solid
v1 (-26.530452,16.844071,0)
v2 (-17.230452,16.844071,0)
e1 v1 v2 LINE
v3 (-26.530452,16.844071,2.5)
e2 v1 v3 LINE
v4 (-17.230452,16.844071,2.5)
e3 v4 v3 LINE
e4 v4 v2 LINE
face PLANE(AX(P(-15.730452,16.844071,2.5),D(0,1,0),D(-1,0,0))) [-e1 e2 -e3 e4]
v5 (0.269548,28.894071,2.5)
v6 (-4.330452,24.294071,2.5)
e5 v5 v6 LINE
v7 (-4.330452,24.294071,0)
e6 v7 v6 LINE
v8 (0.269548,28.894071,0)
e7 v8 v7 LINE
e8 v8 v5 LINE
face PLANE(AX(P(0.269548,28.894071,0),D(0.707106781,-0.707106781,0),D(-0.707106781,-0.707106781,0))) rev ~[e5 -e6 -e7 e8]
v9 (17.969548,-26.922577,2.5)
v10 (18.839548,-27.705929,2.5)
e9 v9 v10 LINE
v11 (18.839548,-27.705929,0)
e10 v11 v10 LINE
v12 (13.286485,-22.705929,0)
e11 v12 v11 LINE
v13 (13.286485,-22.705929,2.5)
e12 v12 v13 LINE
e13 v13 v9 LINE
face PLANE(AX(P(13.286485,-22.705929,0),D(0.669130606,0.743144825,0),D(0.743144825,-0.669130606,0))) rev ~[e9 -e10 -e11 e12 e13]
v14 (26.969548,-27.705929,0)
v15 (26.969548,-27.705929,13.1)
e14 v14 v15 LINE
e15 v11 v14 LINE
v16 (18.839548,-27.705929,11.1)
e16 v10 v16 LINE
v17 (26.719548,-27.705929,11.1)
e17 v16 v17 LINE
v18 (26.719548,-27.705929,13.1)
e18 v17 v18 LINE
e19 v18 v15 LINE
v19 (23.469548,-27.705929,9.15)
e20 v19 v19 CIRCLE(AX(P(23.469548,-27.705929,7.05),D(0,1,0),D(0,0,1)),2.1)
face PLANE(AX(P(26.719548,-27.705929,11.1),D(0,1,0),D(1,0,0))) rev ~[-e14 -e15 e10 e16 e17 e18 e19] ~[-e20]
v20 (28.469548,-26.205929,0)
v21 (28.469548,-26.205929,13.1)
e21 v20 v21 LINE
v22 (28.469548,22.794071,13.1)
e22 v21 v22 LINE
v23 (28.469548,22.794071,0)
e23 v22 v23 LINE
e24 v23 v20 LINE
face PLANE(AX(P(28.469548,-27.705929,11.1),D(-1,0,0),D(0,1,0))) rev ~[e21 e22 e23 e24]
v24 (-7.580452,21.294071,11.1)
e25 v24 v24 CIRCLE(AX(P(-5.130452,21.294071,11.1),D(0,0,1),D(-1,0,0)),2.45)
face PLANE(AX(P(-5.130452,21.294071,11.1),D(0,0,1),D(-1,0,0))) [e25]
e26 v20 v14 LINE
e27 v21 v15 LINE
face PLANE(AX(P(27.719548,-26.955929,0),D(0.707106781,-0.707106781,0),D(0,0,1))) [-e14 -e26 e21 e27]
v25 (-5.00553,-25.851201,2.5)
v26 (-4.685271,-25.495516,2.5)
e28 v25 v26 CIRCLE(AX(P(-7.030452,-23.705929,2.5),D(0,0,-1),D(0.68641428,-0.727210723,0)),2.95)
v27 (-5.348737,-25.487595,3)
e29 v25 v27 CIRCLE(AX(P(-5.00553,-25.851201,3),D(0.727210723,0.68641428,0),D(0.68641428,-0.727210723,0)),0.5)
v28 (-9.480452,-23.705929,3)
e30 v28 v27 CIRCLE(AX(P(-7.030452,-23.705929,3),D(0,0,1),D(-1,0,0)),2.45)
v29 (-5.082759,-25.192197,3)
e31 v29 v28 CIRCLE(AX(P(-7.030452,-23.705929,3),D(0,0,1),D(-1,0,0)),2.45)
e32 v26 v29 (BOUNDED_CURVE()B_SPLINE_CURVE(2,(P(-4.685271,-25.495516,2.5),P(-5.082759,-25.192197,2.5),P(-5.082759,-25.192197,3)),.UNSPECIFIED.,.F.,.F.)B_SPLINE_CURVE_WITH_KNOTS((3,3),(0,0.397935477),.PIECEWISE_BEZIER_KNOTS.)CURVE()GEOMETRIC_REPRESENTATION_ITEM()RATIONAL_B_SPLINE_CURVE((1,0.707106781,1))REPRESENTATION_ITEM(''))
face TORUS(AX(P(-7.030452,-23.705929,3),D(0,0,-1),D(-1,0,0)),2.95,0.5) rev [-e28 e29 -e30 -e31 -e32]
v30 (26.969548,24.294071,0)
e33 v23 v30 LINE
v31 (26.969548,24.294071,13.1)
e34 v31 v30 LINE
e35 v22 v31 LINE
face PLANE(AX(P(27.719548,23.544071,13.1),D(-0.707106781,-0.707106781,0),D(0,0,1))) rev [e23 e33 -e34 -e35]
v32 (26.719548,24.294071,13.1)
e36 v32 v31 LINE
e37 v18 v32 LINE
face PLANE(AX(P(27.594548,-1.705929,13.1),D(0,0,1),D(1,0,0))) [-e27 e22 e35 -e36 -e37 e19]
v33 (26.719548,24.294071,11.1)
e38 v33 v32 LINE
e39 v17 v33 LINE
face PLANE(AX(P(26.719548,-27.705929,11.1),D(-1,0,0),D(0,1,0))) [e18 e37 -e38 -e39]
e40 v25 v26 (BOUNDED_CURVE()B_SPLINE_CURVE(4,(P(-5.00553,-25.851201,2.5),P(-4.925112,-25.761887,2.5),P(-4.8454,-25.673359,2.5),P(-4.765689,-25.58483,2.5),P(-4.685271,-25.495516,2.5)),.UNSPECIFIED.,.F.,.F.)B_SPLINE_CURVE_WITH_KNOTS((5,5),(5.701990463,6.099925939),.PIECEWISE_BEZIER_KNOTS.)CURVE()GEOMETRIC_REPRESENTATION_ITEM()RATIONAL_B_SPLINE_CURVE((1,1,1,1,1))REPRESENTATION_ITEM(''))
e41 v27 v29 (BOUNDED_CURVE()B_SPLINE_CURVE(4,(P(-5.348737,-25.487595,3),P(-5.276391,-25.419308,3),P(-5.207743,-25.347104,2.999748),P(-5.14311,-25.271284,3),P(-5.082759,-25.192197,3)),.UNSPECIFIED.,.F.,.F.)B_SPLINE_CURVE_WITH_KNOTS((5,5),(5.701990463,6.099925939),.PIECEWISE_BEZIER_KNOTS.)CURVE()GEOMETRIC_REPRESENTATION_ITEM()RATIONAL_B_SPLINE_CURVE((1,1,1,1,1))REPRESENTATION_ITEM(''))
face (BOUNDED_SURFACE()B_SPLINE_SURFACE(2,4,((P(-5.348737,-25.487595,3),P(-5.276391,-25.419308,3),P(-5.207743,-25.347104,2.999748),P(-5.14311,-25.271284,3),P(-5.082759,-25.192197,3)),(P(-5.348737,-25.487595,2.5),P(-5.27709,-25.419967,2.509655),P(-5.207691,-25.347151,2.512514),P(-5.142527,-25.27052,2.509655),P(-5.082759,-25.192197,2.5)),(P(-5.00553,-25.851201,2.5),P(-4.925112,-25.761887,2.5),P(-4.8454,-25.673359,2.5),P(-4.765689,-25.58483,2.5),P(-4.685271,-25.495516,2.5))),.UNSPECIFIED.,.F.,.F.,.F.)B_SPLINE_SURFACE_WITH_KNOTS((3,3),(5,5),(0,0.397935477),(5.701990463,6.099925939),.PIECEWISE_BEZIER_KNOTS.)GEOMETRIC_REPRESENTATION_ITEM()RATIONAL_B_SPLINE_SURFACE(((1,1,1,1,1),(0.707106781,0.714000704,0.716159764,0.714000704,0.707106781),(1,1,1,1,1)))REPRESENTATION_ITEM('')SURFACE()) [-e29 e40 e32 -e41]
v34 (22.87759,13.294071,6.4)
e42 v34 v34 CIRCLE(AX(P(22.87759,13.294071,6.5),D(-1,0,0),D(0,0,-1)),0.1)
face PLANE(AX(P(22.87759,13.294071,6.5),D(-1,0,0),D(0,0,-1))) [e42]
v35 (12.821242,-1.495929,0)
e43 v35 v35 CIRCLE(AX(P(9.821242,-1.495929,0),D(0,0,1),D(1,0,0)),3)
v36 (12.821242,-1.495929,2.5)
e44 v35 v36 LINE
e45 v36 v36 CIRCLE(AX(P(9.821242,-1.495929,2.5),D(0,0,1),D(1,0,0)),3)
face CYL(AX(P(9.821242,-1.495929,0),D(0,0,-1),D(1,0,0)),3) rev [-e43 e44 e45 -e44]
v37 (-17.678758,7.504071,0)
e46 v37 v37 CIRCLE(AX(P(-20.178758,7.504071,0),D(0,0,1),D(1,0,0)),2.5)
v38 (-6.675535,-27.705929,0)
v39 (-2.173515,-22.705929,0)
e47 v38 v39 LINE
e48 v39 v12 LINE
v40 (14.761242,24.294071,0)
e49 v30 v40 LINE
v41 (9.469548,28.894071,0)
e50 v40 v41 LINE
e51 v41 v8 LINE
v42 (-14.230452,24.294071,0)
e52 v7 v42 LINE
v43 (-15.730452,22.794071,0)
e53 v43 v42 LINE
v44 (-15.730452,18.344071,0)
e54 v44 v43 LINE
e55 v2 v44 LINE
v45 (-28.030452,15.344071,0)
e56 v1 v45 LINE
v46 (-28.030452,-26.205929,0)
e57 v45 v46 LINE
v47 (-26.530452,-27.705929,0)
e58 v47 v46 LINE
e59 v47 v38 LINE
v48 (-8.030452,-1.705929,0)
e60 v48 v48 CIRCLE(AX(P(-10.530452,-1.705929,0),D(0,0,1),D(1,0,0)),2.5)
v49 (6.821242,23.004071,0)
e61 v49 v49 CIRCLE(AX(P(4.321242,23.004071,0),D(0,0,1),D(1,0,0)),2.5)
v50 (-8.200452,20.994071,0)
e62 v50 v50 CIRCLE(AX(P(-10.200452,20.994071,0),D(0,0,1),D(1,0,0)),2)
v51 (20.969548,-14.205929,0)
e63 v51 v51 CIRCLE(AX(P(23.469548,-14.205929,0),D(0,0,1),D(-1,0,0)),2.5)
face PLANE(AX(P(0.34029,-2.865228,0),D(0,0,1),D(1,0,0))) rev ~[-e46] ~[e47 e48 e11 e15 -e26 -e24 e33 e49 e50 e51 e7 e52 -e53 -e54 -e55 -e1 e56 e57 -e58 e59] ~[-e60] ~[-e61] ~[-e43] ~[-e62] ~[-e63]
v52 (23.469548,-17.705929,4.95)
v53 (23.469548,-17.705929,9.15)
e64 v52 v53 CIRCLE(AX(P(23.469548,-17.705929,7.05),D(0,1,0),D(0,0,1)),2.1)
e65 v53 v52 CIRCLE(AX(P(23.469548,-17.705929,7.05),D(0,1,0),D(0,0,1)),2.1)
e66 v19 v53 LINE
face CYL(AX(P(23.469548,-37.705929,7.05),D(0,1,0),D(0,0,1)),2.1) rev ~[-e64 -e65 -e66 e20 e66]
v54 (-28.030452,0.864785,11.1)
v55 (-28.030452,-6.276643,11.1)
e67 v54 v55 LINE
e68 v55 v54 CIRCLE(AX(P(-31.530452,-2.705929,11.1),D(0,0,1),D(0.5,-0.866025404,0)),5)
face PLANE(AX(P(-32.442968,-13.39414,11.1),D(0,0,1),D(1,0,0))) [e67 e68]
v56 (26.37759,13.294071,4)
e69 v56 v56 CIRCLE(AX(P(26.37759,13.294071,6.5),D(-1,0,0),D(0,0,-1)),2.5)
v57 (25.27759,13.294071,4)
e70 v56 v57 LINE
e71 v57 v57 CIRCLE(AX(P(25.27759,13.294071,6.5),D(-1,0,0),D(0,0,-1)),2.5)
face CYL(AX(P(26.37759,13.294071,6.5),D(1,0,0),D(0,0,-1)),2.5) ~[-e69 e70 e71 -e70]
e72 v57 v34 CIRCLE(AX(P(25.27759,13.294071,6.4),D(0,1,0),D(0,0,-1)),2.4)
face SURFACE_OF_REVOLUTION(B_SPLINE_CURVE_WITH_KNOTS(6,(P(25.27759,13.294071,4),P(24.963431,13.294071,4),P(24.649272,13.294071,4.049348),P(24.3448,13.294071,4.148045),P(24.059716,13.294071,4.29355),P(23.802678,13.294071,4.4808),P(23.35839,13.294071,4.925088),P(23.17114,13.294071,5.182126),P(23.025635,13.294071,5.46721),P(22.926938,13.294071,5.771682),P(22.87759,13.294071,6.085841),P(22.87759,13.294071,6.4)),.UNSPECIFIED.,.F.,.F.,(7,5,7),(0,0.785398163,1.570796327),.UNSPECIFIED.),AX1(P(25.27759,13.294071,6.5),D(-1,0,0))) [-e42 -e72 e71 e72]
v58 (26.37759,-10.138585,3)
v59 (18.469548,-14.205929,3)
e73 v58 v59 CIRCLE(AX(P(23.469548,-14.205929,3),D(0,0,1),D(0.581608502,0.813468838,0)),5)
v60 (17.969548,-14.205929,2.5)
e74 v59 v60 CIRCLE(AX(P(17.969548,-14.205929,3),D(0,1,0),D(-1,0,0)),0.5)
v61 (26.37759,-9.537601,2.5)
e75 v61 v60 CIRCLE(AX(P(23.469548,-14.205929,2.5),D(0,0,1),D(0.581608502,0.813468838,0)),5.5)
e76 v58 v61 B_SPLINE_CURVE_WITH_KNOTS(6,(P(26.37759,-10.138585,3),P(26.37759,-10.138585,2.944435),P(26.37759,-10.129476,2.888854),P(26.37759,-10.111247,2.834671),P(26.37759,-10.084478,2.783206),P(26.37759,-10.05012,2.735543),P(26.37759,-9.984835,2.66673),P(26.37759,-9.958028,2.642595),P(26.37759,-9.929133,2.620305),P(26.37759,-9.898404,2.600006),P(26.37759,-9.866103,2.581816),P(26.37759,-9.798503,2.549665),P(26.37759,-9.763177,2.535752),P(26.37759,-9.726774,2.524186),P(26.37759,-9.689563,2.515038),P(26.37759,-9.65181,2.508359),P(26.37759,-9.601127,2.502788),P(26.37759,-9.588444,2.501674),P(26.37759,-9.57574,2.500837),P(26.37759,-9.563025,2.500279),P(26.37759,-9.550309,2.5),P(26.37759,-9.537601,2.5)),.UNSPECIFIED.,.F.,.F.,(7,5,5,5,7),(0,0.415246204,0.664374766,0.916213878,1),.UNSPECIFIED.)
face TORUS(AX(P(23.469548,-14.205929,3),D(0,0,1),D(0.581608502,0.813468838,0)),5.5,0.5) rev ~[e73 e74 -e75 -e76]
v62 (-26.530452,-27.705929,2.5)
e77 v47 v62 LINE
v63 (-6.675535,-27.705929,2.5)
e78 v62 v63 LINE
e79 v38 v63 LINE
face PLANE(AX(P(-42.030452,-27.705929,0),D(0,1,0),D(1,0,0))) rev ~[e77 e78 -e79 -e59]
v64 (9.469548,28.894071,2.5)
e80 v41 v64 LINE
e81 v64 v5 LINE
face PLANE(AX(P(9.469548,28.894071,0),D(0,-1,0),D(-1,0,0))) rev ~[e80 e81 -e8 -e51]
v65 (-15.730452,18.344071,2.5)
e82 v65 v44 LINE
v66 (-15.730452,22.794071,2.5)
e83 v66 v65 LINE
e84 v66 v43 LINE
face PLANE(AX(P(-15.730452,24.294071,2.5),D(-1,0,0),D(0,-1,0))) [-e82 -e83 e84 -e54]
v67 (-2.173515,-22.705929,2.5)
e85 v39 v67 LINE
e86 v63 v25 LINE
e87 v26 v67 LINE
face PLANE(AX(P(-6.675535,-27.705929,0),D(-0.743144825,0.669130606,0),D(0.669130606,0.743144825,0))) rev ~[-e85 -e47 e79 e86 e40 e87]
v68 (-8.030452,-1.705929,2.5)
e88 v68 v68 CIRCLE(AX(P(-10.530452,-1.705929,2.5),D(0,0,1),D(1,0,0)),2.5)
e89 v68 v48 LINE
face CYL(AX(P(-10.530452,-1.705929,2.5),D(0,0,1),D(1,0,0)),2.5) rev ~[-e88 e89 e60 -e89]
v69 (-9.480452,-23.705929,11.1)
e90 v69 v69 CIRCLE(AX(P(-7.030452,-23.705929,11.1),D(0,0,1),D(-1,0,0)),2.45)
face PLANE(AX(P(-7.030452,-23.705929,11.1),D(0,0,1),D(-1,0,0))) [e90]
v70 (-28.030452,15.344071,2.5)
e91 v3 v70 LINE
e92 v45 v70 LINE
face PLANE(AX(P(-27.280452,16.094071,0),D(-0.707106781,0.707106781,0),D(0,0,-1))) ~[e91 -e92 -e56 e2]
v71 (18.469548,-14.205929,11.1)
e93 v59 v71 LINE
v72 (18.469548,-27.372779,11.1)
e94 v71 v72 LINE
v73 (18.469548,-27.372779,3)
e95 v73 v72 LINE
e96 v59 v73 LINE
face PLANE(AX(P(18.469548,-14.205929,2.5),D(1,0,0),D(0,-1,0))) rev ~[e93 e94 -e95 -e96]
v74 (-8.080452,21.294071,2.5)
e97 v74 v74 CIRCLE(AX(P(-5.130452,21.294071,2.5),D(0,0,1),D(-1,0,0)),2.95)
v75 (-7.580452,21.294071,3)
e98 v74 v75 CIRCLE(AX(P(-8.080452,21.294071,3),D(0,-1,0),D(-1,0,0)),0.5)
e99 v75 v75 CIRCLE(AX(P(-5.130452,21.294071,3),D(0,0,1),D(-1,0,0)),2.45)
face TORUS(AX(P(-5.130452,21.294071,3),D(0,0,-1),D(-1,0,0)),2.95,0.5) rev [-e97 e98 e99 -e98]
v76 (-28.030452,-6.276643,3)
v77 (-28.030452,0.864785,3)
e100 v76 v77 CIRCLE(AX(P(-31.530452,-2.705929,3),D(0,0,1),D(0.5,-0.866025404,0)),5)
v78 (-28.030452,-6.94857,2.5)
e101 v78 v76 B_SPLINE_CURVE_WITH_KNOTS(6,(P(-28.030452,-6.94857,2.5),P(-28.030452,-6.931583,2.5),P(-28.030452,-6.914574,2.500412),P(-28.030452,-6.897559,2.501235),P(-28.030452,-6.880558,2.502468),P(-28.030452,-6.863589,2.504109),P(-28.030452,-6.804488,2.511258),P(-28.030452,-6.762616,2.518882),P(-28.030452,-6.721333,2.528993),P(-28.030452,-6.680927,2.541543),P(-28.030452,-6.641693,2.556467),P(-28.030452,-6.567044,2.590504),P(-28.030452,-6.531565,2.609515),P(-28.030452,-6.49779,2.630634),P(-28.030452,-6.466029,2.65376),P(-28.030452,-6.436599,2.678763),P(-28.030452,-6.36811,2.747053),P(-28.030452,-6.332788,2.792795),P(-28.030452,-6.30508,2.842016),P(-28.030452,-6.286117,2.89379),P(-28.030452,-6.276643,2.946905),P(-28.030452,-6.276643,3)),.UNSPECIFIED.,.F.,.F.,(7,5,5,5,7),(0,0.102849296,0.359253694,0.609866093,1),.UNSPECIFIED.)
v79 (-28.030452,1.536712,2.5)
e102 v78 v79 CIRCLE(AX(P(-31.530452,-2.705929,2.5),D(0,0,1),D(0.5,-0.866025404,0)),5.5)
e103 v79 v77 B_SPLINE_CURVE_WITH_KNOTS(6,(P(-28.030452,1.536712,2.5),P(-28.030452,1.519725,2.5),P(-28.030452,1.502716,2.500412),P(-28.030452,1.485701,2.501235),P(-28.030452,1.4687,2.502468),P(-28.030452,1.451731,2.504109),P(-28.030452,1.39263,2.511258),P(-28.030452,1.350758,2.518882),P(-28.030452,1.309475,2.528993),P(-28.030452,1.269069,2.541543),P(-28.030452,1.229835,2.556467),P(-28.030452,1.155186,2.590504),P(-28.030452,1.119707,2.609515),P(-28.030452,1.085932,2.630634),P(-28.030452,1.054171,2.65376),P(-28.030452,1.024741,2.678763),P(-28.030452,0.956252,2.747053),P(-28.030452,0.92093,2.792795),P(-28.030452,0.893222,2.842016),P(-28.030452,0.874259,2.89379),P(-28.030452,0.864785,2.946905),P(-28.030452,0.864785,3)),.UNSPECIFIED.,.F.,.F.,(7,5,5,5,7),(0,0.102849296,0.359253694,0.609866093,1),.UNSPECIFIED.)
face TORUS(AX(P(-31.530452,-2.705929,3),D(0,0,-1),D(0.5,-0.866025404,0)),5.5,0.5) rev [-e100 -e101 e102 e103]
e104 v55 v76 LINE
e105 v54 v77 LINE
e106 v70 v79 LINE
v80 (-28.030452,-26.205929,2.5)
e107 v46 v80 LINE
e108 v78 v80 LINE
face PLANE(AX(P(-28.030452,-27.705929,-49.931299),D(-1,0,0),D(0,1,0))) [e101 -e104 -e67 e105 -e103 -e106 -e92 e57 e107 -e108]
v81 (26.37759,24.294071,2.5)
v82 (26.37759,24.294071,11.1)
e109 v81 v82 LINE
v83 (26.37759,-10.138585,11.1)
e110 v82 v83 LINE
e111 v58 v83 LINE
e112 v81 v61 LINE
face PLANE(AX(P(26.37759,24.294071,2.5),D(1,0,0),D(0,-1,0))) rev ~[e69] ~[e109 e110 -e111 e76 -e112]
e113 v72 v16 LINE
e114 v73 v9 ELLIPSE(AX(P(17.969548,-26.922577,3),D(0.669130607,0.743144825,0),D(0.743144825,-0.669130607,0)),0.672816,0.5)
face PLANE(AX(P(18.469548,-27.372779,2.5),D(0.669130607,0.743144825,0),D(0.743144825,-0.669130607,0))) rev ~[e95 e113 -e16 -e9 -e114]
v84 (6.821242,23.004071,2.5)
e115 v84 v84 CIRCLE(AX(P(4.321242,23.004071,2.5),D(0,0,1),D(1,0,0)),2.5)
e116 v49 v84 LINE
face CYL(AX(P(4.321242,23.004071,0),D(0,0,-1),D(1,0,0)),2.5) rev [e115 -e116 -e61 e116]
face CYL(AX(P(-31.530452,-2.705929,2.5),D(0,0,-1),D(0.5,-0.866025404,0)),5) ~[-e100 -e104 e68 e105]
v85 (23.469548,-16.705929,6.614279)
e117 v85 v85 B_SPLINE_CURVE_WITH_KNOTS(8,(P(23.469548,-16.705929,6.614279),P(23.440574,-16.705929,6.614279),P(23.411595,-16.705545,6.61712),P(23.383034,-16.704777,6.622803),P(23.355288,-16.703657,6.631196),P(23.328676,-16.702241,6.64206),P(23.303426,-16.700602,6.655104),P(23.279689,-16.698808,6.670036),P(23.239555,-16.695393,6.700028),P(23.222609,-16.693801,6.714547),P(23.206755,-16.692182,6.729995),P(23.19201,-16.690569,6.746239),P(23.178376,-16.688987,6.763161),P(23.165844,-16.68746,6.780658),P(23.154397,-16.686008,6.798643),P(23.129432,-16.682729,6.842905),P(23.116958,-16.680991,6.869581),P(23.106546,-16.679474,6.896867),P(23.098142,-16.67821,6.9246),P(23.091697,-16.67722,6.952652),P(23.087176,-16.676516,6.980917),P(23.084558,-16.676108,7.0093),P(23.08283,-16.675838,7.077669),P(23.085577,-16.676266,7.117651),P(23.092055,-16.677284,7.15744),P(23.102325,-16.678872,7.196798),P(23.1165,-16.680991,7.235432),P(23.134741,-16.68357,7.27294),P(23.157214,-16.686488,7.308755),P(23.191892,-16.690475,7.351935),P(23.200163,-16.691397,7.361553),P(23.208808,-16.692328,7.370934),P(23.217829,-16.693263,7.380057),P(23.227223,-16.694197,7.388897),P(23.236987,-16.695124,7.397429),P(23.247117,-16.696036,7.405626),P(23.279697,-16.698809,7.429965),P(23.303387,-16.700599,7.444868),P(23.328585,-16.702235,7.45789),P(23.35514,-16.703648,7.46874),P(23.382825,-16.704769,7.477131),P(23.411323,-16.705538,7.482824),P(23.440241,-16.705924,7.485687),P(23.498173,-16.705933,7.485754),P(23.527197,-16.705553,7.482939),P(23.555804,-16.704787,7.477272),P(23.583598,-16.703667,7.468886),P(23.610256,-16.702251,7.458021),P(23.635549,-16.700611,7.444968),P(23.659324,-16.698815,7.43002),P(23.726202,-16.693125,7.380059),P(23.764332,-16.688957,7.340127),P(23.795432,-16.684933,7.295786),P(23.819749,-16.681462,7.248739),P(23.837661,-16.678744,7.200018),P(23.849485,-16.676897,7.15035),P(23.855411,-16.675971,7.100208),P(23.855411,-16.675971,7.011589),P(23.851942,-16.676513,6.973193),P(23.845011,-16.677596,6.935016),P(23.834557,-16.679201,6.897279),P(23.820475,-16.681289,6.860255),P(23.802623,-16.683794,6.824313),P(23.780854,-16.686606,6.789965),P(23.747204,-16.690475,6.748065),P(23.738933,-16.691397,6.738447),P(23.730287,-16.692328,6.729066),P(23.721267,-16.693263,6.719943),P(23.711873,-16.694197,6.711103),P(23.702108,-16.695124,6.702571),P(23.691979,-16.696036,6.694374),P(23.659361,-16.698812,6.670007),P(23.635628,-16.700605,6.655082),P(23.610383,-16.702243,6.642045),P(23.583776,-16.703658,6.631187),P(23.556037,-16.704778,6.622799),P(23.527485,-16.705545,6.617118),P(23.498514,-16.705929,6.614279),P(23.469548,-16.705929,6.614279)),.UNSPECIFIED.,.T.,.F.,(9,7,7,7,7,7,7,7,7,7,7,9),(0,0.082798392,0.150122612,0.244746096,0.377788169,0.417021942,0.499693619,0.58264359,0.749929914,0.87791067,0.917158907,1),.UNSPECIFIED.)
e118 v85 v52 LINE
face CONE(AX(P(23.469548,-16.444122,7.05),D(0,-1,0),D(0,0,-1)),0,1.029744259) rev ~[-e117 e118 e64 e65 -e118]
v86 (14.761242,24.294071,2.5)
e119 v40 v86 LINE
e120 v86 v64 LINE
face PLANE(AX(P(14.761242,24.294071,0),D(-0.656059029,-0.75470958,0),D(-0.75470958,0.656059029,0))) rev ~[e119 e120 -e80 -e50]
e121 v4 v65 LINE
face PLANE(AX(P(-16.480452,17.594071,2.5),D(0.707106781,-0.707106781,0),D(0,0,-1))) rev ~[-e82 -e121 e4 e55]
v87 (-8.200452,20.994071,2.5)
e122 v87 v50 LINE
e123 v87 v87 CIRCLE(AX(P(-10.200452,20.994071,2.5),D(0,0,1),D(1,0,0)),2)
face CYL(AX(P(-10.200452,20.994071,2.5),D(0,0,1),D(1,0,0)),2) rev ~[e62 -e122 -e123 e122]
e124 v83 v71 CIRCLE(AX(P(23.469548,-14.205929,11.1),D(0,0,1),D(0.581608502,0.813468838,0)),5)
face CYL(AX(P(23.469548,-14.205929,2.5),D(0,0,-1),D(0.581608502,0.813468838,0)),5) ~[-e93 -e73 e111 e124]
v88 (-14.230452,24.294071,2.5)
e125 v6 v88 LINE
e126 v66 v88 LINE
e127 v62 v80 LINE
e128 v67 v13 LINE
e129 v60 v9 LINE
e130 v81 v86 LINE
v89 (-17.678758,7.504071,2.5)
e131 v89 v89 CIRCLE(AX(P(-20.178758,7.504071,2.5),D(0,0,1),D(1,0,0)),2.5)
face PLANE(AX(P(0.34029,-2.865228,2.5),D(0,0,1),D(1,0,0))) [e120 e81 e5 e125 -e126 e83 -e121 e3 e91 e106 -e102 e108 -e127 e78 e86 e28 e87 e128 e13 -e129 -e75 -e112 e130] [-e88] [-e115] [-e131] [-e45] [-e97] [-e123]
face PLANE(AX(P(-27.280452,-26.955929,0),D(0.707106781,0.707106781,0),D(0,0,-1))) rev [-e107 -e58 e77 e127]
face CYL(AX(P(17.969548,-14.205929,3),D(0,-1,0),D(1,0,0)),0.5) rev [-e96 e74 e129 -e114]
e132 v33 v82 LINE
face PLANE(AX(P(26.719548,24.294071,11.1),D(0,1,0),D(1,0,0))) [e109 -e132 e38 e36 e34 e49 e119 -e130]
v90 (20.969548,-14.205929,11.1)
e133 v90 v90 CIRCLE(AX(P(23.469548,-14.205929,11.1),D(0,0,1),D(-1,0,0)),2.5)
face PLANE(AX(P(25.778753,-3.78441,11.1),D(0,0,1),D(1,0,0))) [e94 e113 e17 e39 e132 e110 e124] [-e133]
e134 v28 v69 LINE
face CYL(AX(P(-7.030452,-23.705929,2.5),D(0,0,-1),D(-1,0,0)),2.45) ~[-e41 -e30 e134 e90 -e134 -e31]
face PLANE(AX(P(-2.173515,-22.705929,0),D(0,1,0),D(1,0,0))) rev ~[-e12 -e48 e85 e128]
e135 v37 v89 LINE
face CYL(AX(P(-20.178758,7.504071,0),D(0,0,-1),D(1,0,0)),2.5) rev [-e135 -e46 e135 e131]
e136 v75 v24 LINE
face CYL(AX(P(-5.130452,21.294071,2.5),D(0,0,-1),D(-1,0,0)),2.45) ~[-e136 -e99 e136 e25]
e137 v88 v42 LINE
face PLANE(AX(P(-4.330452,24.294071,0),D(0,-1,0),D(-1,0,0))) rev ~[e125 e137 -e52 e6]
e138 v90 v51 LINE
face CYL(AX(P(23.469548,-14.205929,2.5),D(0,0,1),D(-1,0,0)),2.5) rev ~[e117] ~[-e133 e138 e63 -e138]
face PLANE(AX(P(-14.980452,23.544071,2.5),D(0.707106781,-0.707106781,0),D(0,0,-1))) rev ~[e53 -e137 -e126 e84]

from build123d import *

# Parameters (mm, degrees)
SKETCH_1_R                      = 2.5
SKETCH_1_R_2                    = 3
EXTRUDE_1_DEPTH                 = 2.5
SKETCH_2_R                      = 2.45
SKETCH_2_R_2                    = 2.5
EXTRUDE_3_DEPTH                 = 8.6
CUT_EXTRUDE_1_REACH             = 53.724
SKETCH_2_2_R                    = 2.5
FILLET_1_R                      = 0.5
EXTRUDE_4_DEPTH                 = 8.6
FILLET_4_R                      = 1
CHAMFER_1_SIZE                  = 1
CUT_EXTRUDE_3_REACH             = 53.724
CUT_EXTRUDE_3_DIRECTION_2_DEPTH = 52.724136067
CHAMFER_2_SIZE                  = 1.5
CUT_EXTRUDE_5_REACH             = 53.724
CHAMFER_3_SIZE                  = 2
HOLE_WIZARD_M5_2_D              = 4.2
HOLE_WIZARD_M5_2_DEPTH          = 10
HOLE_WIZARD_M5_2_TIP            = 1.2618073
CUT_EXTRUDE_6_REACH             = 53.431
SKETCH_14_R                     = 2.5
CUT_EXTRUDE_7_DEPTH             = 52.431299391
CUT_EXTRUDE_7_DEPTH_BACK        = 52.431299391
SKETCH_15_W                     = 9
SKETCH_15_H                     = 44.55
SKETCH_15_W_2                   = 13.2
SKETCH_15_H_2                   = 52
SKETCH_17_R                     = 2.5
EXTRUDE_5_DEPTH                 = 3.5
FILLET_5_R                      = 2.4
SKETCH_18_W                     = 1.75
SKETCH_18_H                     = 52
EXTRUDE_6_DEPTH                 = 2
CHAMFER_4_SIZE                  = 1.5
SKETCH_19_R                     = 2
CUT_EXTRUDE_8_DEPTH             = 10


with BuildPart() as part:
    # 스케치1 → 보스-돌출1 (new body)
    with BuildSketch(Plane.XY):
        Polygon((-6.675534975, -27.705928987), (-2.173514753, -22.705928987), (13.286485247, -22.705928987), (18.839547821, -27.705928987), (41.669547821, -27.705928987), (41.669547821, 12.674071013), (30.011242494, 24.294071013), (14.761242494, 24.294071013), (9.469547821, 28.894071013), (0.269547821, 28.894071013), (-4.330452179, 24.294071013), (-27.130452179, 24.294071013), (-42.030452179, 9.394071013), (-42.030452179, -27.705928987), align=None)
        with Locations((-20.178757506, 7.504071013)):
            Circle(SKETCH_1_R, mode=Mode.SUBTRACT)
        with Locations((4.321242494, 23.004071013)):
            Circle(SKETCH_1_R, mode=Mode.SUBTRACT)
        with Locations((9.821242494, -1.495928987)):
            Circle(SKETCH_1_R_2, mode=Mode.SUBTRACT)
    extrude(amount=EXTRUDE_1_DEPTH)

    # 스케치2 → 보스-돌출3 (add)
    # profile 1 of 4: a face of its own
    with BuildSketch(Plane.XY.offset(2.5)):
        with Locations(Location((-5.130452179, 21.294071013, 0), (0, 0, 180))):
            Circle(SKETCH_2_R)
    # profile 2 of 4: a face of its own
    with BuildSketch(Plane.XY.offset(2.5)):
        with Locations(Location((-7.030452179, -23.705928987, 0), (0, 0, 180))):
            Circle(SKETCH_2_R)
    # profile 3 of 4: a face of its own
    with BuildSketch(Plane.XY.offset(2.5)):
        with BuildLine():
            Line((18.469547821, -14.205928987), (18.469547821, -27.37277949))
            Line((18.469547821, -27.37277949), (18.839547821, -27.705928987))
            Line((18.839547821, -27.705928987), (28.469547821, -27.705928987))
            Line((28.469547821, -27.705928987), (28.469547821, -14.205928987))
            Line((28.469547821, -14.205928987), (28.469547821, 24.294071013))
            Line((28.469547821, 24.294071013), (26.377590331, 24.294071013))
            Line((26.377590331, 24.294071013), (26.377590331, -10.138584797))
            ThreePointArc((26.377590331, -10.138584797), (21.182651731, -9.759570221), (18.469547821, -14.205928987))
        make_face()
        with Locations(Location((23.469547821, -14.205928987, 0), (0, 0, 180))):
            Circle(SKETCH_2_R_2, mode=Mode.SUBTRACT)
    # profile 4 of 4: a face of its own
    with BuildSketch(Plane.XY.offset(2.5)):
        with BuildLine():
            Line((-36.530452179, -2.705928987), (-36.530452179, -27.705928987))
            Line((-36.530452179, -27.705928987), (-29.030452179, -27.705928987))
            Line((-29.030452179, -27.705928987), (-29.030452179, -7.036056006))
            ThreePointArc((-29.030452179, -7.036056006), (-29.030452179, 1.624198032), (-36.530452179, -2.705928987))
        make_face()
        with Locations(Location((-31.530452179, -2.705928987, 0), (0, 0, 180))):
            Circle(SKETCH_2_R_2, mode=Mode.SUBTRACT)
    extrude(amount=EXTRUDE_3_DEPTH)

    # 스케치2<2> → 컷-돌출1 (cut, up to next)
    with BuildSketch(Plane.XY.offset(2.5), mode=Mode.PRIVATE) as cut_extrude_1_sk1:
        with Locations(Location((-31.530452179, -2.705928987, 0), (0, 0, 180))):
            Circle(SKETCH_2_2_R)
    cut_extrude_1_tool1 = extrude(cut_extrude_1_sk1.sketch, amount=-CUT_EXTRUDE_1_REACH, mode=Mode.PRIVATE) & part.part
    # 스케치2<2> → 컷-돌출1 (cut, up to next)
    with BuildSketch(Plane.XY.offset(2.5), mode=Mode.PRIVATE) as cut_extrude_1_sk2:
        with Locations(Location((23.469547821, -14.205928987, 0), (0, 0, 180))):
            Circle(SKETCH_2_2_R)
    cut_extrude_1_tool2 = extrude(cut_extrude_1_sk2.sketch, amount=-CUT_EXTRUDE_1_REACH, mode=Mode.PRIVATE) & part.part
    add(cut_extrude_1_tool1.solids().sort_by_distance((-31.530452, -2.705929, 2.5))[0], mode=Mode.SUBTRACT)
    add(cut_extrude_1_tool2.solids().sort_by_distance((23.469548, -14.205929, 2.5))[0], mode=Mode.SUBTRACT)

    # 필렛1
    fillet_1_edges = [part.edges().sort_by_distance(p)[0] for p in [
        (21.182651731, -9.759570221, 2.5),
        (-2.680452179, 21.294071013, 2.5),
        (-4.580452179, -23.705928987, 2.5),
        (18.469547821, -20.789354238, 2.5),
        (-36.530452179, -15.205928987, 2.5),
        (-29.030452179, -17.370992496, 2.5),
        (-29.030452179, 1.624198032, 2.5),
    ]]
    fillet(fillet_1_edges, radius=FILLET_1_R)

    # 스케치3 → 보스-돌출4 (add)
    with BuildSketch(Plane.XY.offset(2.5)):
        with BuildLine():
            Line((27.631077151, 8.755600344), (33.70801849, 8.755600344))
            ThreePointArc((33.70801849, 8.755600344), (34.415125271, 9.048493563), (34.70801849, 9.755600344))
            Line((34.70801849, 9.755600344), (34.70801849, 15.832541683))
            ThreePointArc((34.70801849, 15.832541683), (34.415125271, 16.539648464), (33.70801849, 16.832541683))
            Line((33.70801849, 16.832541683), (30.669547821, 16.832541683))
            ThreePointArc((30.669547821, 16.832541683), (27.813917825, 15.649701009), (26.631077151, 12.794071013))
            Line((26.631077151, 12.794071013), (26.631077151, 9.755600344))
            ThreePointArc((26.631077151, 9.755600344), (26.92397037, 9.048493563), (27.631077151, 8.755600344))
        make_face()
    extrude(amount=EXTRUDE_4_DEPTH)

    # 필렛4
    fillet_4_edges = [part.edges().sort_by_distance(p)[0] for p in [
        (29.522279368, 16.666153198, 2.5),
        (31.088783155, 8.755600344, 2.5),
        (32.188783155, 16.832541683, 2.5),
        (34.415125271, 9.048493563, 2.5),
        (34.70801849, 12.794071013, 2.5),
        (34.415125271, 16.539648464, 2.5),
    ]]
    fillet(fillet_4_edges, radius=FILLET_4_R)

    # 모따기1
    chamfer_1_edges = [part.edges().sort_by_distance(p)[0] for p in [
        (41.669547821, -27.705928987, 1.25),
        (-42.030452179, -27.705928987, 1.25),
    ]]
    chamfer(chamfer_1_edges, length=CHAMFER_1_SIZE)

    # 스케치8 → 컷-돌출3 (cut, up to next)
    with BuildSketch(Plane.XY.offset(2.5), mode=Mode.PRIVATE) as cut_extrude_3_sk1:
        Polygon((-15.730452179, 24.294071013), (-15.730452179, 16.844071013), (-34.580452179, 16.844071013), (-27.130452179, 24.294071013), align=None)
    cut_extrude_3_tool1 = extrude(cut_extrude_3_sk1.sketch, amount=-CUT_EXTRUDE_3_REACH, mode=Mode.PRIVATE) & part.part
    add(cut_extrude_3_tool1.solids().sort_by_distance((-23.445852, 20.263272, 2.5))[0], mode=Mode.SUBTRACT)

    # 스케치8 → 컷-돌출3 direction 2 (cut)
    with BuildSketch(Plane.XY.offset(2.5)):
        Polygon((-15.730452179, 24.294071013), (-15.730452179, 16.844071013), (-34.580452179, 16.844071013), (-27.130452179, 24.294071013), align=None)
    extrude(amount=CUT_EXTRUDE_3_DIRECTION_2_DEPTH, mode=Mode.SUBTRACT)

    # 모따기2
    chamfer_2_edges = [part.edges().sort_by_distance(p)[0] for p in [
        (-15.730452179, 16.844071013, 1.25),
        (-15.730452179, 24.294071013, 1.25),
    ]]
    chamfer(chamfer_2_edges, length=CHAMFER_2_SIZE)

    # 스케치10 → 컷-돌출5 (cut, up to next)
    with BuildSketch(Plane.XY.offset(2.5), mode=Mode.PRIVATE) as cut_extrude_5_sk1:
        Polygon((-37.030452179, -27.705928987), (-37.030452179, -2.705928987), (-37.030452179, 14.394071013), (-42.030452179, 9.394071013), (-42.030452179, -26.705928987), (-41.030452179, -27.705928987), align=None)
    cut_extrude_5_tool1 = extrude(cut_extrude_5_sk1.sketch, amount=-CUT_EXTRUDE_5_REACH, mode=Mode.PRIVATE) & part.part
    add(cut_extrude_5_tool1.solids().sort_by_distance((-39.472224, -7.830275, 2.5))[0], mode=Mode.SUBTRACT)

    # 모따기3
    chamfer_3_edges = [part.edges().sort_by_distance(p)[0] for p in [
        (-37.030452179, -27.705928987, 1.25),
    ]]
    chamfer(chamfer_3_edges, length=CHAMFER_3_SIZE)

    # M5 나사 구멍2
    with Locations(Plane(origin=(23.469547821, -27.705928987, 7.05), x_dir=(0, 0, -1), z_dir=(0, -1, 0))):
        with Locations((0, 0), (0, -56.25)):
            Hole(HOLE_WIZARD_M5_2_D / 2, depth=HOLE_WIZARD_M5_2_DEPTH)
            with Locations((0, 0, -(HOLE_WIZARD_M5_2_DEPTH + HOLE_WIZARD_M5_2_TIP / 2))):  # 118° drill point
                Cone(0, HOLE_WIZARD_M5_2_D / 2, HOLE_WIZARD_M5_2_TIP, mode=Mode.SUBTRACT)

    # 스케치14 → 컷-돌출6 (cut, up to next)
    with BuildSketch(Plane.XY.offset(2.5), mode=Mode.PRIVATE) as cut_extrude_6_sk1:
        with Locations((-10.530452179, -1.705928987)):
            Circle(SKETCH_14_R)
    cut_extrude_6_tool1 = extrude(cut_extrude_6_sk1.sketch, amount=-CUT_EXTRUDE_6_REACH, mode=Mode.PRIVATE) & part.part
    add(cut_extrude_6_tool1.solids().sort_by_distance((-10.530452, -1.705929, 2.5))[0], mode=Mode.SUBTRACT)

    # 스케치15 → 컷-돌출7 (cut, two sides: drawn at the far end of the back side and taken through both)
    with BuildSketch(Plane.XY.offset(2.5).offset(-CUT_EXTRUDE_7_DEPTH_BACK)):
        with Locations((-32.530452179, -5.430928987)):
            Rectangle(SKETCH_15_W, SKETCH_15_H)
        with Locations((35.069547821, -1.705928987)):
            Rectangle(SKETCH_15_W_2, SKETCH_15_H_2)
    extrude(amount=CUT_EXTRUDE_7_DEPTH + CUT_EXTRUDE_7_DEPTH_BACK, mode=Mode.SUBTRACT)

    # 스케치17 → 보스-돌출5 (add)
    with BuildSketch(Plane.ZY.offset(-26.377590331)):
        with Locations(Location((6.5, 13.294071013, 0), (0, 0, 180))):
            Circle(SKETCH_17_R)
    extrude(amount=EXTRUDE_5_DEPTH)

    # 필렛5
    fillet_5_edges = [part.edges().sort_by_distance(p)[0] for p in [
        (22.877590331, 13.294071013, 9),
    ]]
    fillet(fillet_5_edges, radius=FILLET_5_R)

    # 스케치18 → 보스-돌출6 (add)
    with BuildSketch(Plane.XY.offset(11.1)):
        with Locations((27.594547821, -1.705928987)):
            Rectangle(SKETCH_18_W, SKETCH_18_H)
    extrude(amount=EXTRUDE_6_DEPTH)

    # 모따기4
    chamfer_4_edges = [part.edges().sort_by_distance(p)[0] for p in [
        (-28.030452179, -27.705928987, 1.25),
        (-28.030452179, 16.844071013, 1.25),
        (28.469547821, 24.294071013, 6.55),
        (28.469547821, -27.705928987, 6.55),
    ]]
    chamfer(chamfer_4_edges, length=CHAMFER_4_SIZE)

    # 스케치19 → 컷-돌출8 (cut)
    with BuildSketch(Plane.XY.offset(2.5)):
        with Locations((-10.200452179, 20.994071013)):
            Circle(SKETCH_19_R)
    extrude(amount=-CUT_EXTRUDE_8_DEPTH, mode=Mode.SUBTRACT)


solid = part.part
